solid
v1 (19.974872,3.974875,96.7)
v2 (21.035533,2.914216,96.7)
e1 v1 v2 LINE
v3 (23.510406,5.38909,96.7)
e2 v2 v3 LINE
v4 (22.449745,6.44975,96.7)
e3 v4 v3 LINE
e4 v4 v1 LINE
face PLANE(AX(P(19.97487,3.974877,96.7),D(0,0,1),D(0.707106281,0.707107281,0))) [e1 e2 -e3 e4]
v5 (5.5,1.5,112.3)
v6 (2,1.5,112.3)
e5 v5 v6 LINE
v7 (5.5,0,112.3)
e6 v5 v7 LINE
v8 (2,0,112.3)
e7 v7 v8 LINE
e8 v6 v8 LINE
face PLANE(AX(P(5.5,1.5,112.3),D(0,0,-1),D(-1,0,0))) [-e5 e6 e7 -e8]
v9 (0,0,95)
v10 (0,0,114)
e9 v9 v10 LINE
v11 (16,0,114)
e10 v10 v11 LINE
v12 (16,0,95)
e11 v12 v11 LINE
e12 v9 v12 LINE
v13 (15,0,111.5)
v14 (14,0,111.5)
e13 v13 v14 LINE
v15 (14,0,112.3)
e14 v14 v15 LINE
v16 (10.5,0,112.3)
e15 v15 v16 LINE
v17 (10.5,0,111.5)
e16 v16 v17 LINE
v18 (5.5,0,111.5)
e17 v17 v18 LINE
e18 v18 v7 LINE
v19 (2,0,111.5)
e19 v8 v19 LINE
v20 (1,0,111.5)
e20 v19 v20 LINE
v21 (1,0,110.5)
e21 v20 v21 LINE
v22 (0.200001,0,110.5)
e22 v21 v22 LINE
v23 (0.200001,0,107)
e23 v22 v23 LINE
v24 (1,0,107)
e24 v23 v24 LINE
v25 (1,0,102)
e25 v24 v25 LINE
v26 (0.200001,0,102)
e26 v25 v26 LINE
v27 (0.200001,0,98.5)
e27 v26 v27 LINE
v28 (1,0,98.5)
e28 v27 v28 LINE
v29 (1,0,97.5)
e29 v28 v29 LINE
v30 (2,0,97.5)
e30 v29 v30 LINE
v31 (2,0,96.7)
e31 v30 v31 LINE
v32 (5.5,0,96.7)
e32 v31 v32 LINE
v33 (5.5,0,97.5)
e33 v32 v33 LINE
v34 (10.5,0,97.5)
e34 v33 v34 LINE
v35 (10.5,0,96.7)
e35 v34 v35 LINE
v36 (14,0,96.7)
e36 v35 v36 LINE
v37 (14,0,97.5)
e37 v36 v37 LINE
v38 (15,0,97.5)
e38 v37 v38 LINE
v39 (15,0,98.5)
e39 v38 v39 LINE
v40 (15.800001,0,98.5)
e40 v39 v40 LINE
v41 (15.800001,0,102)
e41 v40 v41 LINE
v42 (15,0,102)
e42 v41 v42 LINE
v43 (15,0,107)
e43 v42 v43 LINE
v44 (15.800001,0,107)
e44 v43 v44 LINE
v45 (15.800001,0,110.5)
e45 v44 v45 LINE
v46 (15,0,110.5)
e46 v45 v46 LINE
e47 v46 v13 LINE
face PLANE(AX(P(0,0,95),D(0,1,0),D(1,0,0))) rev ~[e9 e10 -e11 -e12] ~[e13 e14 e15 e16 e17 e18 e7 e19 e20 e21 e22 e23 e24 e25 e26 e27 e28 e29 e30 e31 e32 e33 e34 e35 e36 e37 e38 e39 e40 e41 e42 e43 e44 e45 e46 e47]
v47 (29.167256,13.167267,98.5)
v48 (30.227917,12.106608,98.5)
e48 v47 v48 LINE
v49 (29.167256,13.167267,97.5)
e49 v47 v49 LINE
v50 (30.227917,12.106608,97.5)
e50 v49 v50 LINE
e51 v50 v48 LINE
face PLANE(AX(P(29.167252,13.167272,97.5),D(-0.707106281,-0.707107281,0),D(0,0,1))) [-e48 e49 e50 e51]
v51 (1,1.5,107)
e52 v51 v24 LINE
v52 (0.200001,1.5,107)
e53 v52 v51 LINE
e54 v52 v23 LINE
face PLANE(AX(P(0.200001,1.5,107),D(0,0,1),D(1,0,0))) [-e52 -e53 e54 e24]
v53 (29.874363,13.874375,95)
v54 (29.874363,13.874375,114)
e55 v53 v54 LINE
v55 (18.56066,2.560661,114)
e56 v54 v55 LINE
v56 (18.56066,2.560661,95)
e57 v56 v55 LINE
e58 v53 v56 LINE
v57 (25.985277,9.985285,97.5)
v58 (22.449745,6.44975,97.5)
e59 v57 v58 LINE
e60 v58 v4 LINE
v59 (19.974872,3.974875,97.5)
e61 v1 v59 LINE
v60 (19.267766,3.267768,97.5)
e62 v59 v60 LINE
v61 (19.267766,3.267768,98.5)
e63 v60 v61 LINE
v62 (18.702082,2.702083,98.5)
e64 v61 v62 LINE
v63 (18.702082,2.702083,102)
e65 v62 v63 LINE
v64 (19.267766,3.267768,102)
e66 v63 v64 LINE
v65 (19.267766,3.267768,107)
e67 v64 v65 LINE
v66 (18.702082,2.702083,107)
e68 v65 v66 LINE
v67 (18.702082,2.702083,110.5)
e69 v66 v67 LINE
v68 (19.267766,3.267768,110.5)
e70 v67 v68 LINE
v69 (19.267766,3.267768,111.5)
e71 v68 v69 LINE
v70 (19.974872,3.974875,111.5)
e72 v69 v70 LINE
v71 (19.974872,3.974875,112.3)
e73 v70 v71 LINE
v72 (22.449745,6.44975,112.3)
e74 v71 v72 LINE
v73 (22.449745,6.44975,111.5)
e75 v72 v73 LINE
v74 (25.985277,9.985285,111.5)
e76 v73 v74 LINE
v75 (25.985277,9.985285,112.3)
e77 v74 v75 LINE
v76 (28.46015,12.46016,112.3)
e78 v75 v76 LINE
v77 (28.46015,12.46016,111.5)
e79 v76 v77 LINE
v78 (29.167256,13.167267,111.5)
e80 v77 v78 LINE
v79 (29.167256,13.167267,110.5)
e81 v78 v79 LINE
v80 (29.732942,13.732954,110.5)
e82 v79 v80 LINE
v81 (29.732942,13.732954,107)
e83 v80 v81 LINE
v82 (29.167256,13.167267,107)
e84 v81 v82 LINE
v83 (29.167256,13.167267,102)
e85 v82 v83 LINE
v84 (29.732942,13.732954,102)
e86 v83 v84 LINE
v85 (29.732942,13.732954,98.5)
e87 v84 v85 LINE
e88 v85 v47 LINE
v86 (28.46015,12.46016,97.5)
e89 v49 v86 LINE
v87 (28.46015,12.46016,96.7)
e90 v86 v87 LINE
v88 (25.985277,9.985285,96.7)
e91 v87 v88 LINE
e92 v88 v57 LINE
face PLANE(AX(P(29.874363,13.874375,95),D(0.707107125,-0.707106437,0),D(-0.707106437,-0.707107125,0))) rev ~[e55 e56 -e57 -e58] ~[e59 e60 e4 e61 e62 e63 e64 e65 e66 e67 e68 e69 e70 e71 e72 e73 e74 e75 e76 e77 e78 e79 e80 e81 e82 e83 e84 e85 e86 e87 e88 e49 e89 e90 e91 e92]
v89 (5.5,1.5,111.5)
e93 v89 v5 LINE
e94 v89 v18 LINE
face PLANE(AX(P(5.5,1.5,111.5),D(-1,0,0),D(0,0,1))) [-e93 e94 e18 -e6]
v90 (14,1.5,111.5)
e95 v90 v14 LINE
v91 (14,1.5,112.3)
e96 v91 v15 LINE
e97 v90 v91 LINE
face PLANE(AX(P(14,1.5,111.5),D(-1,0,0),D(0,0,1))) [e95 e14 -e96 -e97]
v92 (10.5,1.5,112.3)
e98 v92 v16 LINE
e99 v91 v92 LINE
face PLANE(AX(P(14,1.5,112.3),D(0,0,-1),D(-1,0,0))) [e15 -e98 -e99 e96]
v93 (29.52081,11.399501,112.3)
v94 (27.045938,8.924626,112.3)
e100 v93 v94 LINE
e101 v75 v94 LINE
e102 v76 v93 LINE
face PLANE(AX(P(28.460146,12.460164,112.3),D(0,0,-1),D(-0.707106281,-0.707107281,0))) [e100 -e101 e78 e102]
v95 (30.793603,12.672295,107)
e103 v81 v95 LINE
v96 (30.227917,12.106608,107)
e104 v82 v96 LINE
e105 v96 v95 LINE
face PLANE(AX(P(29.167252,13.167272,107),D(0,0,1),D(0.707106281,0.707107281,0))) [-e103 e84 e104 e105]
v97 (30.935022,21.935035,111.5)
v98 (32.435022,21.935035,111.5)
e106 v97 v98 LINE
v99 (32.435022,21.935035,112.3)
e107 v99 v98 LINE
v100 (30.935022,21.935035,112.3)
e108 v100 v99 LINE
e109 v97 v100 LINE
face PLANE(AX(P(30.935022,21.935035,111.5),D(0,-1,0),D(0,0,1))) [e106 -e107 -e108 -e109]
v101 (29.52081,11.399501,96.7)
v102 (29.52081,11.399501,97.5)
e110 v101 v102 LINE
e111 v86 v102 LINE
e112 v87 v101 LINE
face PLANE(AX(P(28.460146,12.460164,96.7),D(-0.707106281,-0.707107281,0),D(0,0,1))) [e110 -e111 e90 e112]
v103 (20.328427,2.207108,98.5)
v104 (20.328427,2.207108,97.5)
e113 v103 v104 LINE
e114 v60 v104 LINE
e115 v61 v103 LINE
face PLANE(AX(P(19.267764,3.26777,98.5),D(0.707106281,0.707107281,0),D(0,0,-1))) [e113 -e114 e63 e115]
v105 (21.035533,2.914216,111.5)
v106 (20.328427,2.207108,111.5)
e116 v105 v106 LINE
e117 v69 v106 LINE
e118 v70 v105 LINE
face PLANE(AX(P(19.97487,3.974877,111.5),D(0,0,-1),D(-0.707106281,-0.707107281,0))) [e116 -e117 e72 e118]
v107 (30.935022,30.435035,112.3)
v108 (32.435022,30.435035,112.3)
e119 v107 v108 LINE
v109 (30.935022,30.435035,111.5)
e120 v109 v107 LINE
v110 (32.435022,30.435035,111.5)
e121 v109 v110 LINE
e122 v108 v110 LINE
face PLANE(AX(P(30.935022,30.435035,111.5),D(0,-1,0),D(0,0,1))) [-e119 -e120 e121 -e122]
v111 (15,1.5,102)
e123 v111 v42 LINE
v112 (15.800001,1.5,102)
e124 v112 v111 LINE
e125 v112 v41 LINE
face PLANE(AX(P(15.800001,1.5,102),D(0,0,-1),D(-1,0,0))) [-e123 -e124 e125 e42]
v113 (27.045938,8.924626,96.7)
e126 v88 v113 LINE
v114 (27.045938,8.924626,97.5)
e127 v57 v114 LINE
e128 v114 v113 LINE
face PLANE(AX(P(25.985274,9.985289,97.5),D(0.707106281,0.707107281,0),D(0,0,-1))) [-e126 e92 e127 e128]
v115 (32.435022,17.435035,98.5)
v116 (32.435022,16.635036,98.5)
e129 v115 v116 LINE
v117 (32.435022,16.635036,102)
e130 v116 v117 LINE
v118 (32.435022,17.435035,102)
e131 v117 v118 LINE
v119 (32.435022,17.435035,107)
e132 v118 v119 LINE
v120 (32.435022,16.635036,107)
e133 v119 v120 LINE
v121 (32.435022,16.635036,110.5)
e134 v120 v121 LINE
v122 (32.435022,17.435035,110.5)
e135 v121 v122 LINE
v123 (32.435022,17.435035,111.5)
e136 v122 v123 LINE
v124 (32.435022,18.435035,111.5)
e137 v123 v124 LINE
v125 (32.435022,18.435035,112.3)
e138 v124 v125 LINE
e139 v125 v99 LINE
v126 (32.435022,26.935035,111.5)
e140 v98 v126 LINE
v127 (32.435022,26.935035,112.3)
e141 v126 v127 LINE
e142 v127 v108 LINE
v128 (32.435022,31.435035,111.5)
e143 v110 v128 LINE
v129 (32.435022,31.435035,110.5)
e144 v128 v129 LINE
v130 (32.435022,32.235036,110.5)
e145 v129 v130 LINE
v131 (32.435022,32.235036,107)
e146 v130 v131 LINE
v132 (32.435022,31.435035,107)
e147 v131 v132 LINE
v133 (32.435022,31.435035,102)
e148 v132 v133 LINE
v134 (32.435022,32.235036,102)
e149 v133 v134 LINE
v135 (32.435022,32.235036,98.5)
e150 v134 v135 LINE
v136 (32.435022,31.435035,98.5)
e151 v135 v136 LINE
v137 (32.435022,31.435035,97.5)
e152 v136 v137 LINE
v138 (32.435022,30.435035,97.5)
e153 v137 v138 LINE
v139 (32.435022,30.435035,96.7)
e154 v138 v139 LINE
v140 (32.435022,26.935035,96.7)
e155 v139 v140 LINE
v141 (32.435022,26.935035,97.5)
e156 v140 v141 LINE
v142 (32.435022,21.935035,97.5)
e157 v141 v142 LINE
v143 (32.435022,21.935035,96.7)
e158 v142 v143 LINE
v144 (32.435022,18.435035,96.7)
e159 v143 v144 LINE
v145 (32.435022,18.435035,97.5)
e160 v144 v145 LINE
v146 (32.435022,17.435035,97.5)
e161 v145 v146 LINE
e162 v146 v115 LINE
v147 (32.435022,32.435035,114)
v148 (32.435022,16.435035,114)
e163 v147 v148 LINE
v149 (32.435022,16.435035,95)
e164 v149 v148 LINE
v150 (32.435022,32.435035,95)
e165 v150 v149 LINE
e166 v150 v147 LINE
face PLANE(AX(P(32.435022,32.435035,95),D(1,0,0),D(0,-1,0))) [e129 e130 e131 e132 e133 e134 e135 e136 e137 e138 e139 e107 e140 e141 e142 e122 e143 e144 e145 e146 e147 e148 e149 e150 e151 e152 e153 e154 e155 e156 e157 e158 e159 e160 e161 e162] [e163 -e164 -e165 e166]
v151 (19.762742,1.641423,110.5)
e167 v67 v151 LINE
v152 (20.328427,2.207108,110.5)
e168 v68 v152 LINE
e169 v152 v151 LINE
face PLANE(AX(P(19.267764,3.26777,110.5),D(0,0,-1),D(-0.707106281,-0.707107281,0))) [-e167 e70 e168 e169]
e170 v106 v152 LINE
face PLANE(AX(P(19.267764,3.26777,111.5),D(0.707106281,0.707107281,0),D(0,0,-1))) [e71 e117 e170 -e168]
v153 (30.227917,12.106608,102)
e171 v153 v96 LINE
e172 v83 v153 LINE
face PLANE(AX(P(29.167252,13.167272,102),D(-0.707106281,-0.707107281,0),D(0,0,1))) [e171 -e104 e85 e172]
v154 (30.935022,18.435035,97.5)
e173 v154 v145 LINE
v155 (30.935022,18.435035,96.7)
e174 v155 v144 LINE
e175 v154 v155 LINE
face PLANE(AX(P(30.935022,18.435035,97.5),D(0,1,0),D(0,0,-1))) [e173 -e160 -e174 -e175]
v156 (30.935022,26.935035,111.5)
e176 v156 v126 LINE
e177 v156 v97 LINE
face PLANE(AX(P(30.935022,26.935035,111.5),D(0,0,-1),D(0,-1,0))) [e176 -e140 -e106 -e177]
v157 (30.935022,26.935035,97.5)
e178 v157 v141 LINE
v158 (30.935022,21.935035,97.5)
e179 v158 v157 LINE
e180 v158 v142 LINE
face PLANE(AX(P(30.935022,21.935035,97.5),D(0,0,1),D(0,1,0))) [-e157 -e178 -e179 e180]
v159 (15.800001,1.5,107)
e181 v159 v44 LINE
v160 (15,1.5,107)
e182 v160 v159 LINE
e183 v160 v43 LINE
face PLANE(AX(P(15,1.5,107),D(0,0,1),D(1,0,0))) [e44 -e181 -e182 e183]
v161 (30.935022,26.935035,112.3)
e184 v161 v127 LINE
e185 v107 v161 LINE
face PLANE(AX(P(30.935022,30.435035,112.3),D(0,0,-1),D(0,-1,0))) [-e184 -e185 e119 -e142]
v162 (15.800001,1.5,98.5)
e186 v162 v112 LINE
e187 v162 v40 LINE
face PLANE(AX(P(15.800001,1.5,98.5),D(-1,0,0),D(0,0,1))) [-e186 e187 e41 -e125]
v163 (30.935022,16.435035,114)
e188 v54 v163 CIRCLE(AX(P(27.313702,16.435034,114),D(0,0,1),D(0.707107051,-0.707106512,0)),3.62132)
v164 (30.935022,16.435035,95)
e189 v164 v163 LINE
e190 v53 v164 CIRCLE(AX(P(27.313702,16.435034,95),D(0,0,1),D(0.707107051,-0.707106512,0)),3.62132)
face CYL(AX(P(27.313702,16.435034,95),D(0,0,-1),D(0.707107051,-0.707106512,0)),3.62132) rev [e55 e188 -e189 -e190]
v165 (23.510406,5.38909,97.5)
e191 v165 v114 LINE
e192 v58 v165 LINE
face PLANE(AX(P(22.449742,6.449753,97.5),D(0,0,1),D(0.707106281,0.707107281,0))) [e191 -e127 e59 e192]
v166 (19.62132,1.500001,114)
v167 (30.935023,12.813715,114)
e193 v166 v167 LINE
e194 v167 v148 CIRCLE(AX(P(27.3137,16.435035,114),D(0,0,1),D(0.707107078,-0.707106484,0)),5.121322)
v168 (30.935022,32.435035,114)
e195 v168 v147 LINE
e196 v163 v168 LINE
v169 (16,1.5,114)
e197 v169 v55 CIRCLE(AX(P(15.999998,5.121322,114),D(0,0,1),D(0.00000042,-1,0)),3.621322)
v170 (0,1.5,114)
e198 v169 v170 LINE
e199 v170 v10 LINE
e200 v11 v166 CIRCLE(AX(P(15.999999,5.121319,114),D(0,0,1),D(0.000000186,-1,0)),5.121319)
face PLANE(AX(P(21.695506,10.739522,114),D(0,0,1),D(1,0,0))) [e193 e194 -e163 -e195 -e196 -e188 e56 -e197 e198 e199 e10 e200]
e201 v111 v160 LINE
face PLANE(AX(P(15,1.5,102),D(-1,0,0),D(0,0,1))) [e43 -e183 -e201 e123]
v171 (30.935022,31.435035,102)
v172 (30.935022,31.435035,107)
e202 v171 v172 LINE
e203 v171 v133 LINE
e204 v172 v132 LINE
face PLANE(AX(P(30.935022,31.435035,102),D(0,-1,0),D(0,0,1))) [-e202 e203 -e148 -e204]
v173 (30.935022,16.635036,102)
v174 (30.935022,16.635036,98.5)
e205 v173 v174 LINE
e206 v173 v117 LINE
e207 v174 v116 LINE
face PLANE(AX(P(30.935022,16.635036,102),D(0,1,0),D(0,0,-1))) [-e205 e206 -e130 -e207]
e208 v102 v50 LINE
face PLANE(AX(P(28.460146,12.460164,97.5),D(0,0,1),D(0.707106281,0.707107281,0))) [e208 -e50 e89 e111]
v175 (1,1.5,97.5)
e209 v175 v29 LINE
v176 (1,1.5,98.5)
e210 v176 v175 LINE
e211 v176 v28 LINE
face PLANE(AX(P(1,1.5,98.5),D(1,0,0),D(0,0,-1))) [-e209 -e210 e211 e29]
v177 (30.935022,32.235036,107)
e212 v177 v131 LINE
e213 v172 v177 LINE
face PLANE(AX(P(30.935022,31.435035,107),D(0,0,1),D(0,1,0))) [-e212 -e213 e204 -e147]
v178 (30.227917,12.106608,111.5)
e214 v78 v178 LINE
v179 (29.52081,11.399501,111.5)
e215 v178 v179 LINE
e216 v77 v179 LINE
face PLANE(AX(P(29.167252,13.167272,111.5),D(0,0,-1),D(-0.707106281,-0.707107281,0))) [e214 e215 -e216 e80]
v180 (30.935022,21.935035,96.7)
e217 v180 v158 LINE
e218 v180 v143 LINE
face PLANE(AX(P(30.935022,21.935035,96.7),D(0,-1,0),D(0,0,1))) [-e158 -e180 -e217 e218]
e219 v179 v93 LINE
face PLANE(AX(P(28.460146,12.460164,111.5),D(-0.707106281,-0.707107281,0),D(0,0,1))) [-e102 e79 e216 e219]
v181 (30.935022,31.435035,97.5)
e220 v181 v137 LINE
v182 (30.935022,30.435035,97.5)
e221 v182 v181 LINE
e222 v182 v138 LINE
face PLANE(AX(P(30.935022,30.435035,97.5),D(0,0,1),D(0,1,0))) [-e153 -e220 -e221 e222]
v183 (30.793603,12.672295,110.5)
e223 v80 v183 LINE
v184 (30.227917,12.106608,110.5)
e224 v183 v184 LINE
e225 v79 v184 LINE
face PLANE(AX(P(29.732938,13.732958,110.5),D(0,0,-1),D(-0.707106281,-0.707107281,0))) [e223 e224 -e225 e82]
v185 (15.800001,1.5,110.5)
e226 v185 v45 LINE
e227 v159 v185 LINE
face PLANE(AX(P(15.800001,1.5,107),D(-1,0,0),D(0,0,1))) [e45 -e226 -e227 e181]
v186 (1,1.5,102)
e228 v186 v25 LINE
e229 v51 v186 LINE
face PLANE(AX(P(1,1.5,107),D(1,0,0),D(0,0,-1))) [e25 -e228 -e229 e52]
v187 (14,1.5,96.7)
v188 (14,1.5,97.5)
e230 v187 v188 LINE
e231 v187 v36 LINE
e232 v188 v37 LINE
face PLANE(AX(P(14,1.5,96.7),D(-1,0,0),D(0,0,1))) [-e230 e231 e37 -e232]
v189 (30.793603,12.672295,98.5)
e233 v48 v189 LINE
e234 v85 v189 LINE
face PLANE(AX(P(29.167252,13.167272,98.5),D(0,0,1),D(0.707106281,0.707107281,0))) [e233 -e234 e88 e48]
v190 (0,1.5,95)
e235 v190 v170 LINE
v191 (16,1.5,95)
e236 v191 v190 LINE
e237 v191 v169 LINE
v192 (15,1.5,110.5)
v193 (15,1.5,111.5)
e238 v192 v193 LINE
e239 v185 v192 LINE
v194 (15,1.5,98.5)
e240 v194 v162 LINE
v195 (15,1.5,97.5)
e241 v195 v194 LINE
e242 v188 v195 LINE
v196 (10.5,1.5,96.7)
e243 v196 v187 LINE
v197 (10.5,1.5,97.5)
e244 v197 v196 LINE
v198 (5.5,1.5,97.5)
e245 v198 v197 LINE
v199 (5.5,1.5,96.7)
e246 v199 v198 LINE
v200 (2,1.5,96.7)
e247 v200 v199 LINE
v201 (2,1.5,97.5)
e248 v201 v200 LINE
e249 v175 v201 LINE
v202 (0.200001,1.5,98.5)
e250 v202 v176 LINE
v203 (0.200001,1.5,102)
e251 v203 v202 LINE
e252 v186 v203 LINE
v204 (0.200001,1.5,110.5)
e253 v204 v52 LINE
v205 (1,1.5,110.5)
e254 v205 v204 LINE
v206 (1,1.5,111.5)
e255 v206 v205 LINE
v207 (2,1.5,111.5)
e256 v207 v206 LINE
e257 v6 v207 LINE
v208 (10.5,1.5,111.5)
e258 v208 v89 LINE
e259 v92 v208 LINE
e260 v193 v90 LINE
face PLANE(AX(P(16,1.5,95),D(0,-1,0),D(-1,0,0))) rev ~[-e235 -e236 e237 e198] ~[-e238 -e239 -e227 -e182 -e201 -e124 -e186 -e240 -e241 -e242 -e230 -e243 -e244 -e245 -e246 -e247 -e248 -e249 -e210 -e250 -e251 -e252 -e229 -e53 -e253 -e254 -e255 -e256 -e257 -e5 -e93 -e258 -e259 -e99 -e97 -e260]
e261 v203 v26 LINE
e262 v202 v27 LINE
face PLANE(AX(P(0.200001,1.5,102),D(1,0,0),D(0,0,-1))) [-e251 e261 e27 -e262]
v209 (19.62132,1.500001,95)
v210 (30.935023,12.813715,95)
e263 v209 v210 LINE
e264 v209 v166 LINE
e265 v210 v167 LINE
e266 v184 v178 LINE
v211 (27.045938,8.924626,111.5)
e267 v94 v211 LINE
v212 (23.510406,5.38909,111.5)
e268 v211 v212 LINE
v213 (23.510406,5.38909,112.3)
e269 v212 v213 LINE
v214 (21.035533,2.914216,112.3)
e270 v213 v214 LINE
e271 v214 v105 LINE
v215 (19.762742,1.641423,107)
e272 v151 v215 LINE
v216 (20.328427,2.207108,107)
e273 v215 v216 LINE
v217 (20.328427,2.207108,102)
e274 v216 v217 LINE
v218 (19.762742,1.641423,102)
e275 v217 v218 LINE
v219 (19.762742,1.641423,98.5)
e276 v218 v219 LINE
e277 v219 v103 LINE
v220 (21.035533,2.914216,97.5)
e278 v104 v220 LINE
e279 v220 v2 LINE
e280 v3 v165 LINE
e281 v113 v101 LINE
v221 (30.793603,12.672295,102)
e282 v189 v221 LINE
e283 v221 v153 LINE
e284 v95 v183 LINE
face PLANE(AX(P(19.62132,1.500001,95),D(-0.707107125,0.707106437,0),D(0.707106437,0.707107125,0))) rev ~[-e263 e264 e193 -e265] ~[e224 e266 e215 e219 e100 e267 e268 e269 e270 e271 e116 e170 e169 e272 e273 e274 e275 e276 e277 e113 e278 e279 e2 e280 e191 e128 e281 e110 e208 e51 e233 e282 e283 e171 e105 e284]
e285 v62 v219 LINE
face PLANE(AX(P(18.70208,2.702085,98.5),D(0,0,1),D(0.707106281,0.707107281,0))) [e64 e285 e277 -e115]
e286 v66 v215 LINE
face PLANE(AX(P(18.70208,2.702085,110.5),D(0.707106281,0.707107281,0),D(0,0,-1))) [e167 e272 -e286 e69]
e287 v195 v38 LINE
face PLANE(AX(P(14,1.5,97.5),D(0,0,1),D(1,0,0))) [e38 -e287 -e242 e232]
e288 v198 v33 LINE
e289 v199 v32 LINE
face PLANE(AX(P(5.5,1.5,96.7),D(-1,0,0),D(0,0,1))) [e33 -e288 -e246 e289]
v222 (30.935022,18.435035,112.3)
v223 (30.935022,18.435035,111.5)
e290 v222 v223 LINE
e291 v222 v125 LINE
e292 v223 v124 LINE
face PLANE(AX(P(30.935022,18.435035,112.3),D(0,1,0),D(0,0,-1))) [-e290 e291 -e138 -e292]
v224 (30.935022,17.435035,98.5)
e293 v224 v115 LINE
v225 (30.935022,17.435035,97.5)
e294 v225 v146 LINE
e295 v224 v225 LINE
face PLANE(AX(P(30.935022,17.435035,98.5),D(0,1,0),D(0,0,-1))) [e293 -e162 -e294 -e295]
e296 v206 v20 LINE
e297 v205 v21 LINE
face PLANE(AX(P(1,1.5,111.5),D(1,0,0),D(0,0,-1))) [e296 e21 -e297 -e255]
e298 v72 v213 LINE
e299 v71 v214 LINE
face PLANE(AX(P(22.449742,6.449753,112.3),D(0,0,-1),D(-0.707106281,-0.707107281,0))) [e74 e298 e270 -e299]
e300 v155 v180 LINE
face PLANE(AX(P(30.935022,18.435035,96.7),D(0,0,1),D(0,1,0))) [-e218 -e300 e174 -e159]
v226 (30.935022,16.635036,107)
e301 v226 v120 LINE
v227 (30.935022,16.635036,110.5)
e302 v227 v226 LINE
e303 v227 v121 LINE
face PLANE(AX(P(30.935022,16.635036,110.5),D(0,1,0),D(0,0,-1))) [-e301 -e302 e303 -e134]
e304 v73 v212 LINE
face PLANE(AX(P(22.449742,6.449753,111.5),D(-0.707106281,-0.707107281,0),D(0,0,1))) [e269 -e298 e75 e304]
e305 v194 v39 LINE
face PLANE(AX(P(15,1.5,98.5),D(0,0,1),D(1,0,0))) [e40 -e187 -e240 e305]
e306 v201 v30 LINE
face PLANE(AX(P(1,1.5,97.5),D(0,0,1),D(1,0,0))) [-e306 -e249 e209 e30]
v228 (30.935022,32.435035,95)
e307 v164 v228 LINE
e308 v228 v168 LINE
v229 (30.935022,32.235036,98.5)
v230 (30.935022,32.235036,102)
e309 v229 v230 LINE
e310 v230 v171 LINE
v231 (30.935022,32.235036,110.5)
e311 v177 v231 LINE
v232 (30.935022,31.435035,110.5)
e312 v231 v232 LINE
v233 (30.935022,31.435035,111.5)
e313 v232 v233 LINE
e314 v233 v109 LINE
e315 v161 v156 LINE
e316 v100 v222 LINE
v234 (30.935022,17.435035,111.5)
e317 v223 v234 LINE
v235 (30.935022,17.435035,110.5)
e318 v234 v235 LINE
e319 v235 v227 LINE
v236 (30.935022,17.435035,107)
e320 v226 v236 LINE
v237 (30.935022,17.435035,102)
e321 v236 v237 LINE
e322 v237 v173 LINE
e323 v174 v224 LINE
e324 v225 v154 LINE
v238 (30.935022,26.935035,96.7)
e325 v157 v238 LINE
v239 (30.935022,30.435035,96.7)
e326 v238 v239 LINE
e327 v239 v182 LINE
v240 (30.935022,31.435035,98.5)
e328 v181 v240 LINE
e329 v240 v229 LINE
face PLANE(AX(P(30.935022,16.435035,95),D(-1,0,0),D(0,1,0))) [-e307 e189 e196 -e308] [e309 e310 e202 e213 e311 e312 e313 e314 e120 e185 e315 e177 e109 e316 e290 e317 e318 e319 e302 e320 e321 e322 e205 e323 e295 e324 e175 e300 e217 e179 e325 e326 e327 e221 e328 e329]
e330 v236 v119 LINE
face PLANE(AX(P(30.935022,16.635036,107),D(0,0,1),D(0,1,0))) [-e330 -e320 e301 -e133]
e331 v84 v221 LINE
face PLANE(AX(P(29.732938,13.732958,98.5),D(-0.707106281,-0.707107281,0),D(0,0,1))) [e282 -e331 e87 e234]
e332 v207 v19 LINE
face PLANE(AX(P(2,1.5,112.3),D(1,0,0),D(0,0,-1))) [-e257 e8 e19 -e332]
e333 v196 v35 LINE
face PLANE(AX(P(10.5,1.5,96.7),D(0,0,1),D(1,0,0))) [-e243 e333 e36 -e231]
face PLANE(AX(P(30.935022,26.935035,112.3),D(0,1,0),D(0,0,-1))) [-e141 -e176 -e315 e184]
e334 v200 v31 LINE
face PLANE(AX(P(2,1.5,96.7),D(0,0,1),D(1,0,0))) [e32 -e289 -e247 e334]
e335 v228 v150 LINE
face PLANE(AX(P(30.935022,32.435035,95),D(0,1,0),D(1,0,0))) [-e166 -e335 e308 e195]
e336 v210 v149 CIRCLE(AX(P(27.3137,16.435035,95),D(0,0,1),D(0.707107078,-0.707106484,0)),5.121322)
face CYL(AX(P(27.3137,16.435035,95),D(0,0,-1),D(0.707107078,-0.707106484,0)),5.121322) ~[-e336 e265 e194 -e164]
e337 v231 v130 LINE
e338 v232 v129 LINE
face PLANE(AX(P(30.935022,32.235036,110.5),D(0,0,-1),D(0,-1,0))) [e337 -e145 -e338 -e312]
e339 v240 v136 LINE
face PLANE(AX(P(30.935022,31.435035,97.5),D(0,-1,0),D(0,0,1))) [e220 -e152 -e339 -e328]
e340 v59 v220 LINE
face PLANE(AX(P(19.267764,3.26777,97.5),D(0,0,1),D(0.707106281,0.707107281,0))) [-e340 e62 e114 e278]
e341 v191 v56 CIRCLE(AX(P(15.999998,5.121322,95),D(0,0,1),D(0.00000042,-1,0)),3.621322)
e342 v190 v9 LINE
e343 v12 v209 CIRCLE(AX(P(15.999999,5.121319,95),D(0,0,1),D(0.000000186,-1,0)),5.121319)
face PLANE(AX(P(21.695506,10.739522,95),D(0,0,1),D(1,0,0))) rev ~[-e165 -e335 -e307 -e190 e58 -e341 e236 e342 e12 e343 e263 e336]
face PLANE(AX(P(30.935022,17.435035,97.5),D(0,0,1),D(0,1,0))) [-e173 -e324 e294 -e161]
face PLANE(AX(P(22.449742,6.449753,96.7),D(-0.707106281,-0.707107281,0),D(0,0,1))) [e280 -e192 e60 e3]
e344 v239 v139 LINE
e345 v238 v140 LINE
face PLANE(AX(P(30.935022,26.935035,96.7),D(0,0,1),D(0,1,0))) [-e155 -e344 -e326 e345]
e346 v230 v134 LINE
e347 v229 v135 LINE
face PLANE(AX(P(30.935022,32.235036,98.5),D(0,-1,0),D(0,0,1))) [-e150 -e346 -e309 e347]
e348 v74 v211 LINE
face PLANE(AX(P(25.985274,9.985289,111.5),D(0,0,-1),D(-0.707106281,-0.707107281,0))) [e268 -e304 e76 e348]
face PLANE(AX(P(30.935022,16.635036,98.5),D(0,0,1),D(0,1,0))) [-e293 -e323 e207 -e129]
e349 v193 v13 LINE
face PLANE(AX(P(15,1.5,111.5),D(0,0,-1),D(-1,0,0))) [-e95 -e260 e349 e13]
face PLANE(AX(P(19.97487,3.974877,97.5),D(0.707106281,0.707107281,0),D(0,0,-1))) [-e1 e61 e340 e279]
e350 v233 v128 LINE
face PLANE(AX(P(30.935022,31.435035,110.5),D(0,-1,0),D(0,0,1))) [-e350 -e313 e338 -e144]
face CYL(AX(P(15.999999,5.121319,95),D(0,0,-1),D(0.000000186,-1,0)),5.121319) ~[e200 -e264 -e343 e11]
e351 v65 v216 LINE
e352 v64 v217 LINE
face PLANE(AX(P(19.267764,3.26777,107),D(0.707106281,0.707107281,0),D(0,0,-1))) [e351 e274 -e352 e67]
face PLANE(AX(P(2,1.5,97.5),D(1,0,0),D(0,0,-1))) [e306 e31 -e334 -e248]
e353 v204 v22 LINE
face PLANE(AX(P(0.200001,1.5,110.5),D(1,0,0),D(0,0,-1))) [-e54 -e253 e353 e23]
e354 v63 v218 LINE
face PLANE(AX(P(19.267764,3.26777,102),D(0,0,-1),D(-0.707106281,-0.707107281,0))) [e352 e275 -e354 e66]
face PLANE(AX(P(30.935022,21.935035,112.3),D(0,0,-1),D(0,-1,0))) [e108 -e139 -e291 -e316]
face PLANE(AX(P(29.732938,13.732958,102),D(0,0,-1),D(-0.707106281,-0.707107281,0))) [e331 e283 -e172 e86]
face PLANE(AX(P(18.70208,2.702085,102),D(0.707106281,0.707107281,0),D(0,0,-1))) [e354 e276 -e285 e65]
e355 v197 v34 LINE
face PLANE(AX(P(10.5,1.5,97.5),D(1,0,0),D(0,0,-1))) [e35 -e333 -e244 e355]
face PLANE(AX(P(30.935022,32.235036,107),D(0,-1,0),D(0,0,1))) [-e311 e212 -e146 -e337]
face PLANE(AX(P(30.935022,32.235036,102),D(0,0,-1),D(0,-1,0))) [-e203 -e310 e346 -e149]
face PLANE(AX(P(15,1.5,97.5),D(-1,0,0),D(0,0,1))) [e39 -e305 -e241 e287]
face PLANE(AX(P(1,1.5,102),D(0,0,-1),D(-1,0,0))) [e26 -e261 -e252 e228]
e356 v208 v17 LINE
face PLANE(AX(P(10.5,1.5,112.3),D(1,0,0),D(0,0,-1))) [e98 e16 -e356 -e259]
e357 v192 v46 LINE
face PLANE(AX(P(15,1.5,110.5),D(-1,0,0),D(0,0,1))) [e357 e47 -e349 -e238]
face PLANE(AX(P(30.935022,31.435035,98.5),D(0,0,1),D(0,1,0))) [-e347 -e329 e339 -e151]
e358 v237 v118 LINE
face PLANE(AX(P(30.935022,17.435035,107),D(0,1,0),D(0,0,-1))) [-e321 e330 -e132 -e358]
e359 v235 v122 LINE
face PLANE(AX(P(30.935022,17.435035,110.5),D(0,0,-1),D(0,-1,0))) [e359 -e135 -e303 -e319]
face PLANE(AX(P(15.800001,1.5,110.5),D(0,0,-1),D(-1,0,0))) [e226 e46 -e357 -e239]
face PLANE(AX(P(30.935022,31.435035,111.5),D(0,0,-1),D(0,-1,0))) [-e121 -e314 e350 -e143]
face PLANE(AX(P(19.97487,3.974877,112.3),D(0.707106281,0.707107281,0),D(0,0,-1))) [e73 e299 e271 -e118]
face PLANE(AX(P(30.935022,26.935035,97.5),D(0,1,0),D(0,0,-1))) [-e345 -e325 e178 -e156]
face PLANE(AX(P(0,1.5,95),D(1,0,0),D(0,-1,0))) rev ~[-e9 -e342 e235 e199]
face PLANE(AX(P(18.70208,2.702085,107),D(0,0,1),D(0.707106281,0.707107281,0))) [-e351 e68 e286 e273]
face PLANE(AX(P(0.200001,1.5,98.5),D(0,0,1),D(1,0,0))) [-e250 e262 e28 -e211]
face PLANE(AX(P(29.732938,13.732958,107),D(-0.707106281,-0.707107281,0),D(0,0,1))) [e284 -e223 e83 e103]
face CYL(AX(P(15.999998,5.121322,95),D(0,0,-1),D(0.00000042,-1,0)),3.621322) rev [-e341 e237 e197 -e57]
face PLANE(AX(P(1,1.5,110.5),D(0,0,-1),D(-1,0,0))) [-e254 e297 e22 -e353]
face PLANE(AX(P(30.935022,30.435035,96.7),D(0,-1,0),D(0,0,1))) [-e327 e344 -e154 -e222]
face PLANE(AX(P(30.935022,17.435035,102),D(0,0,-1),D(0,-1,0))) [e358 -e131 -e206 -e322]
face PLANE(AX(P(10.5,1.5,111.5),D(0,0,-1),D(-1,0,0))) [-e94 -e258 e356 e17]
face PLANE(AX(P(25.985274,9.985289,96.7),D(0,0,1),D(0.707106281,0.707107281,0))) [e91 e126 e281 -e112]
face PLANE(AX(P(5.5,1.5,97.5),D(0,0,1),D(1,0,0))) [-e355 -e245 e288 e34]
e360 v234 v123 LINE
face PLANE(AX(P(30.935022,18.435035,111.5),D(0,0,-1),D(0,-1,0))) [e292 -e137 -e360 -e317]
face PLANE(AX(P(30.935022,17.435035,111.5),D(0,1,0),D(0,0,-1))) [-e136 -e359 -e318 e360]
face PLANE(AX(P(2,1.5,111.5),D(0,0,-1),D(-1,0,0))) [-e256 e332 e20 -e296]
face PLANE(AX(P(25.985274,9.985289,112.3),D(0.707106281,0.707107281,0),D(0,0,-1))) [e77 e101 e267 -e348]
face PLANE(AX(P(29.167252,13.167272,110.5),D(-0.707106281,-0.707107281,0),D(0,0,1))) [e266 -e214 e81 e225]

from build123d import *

# Parameters (mm, degrees)
PAD_DEPTH       = 19
POCKET_DEPTH    = 11.62232
POCKET002_DEPTH = 1.501
POCKET003_DEPTH = 1.501


with BuildPart() as part:
    # Sketch → Pad (new body)
    with BuildSketch(Plane.XY):
        with BuildLine():
            Line((0, 0), (16, 0))
            ThreePointArc((16, 0), (17.959845, 0.389838), (19.62132, 1.500001))
            Line((19.62132, 1.500001), (30.935023, 12.813715))
            ThreePointArc((30.935023, 12.813715), (32.045185, 14.475191), (32.435022, 16.435035))
            Line((32.435022, 32.435035), (32.435022, 16.435035))
            Line((30.935022, 32.435035), (32.435022, 32.435035))
            Line((30.935022, 16.435035), (30.935022, 32.435035))
            ThreePointArc((29.874363, 13.874375), (30.659366, 15.049216), (30.935022, 16.435035))
            Line((29.874363, 13.874375), (18.56066, 2.560661))
            ThreePointArc((16, 1.5), (17.385819, 1.775657), (18.56066, 2.560661))
            Line((16, 1.5), (0, 1.5))
            Line((0, 1.5), (0, 0))
        make_face()
    extrude(amount=PAD_DEPTH)

    # Sketch004 → Pocket (cut, through all)
    with BuildSketch(Plane(origin=(8.000009, -8.000001, 0), x_dir=(-0.707106, -0.707107, 0), z_dir=(-0.707107, 0.707106, 0))):
        Polygon((-28.935023, 17.3), (-25.435023, 17.3), (-25.435023, 16.5), (-20.435023, 16.5), (-20.435023, 17.3), (-16.935023, 17.3), (-16.935023, 16.5), (-15.935023, 16.5), (-15.935023, 15.5), (-15.135024, 15.5), (-15.135024, 12), (-15.935023, 12), (-15.935023, 7), (-15.135024, 7), (-15.135024, 3.5), (-15.935023, 3.5), (-15.935023, 2.5), (-16.935023, 2.5), (-16.935023, 1.7), (-20.435023, 1.7), (-20.435023, 2.5), (-25.435023, 2.5), (-25.435023, 1.7), (-28.935023, 1.7), (-28.935023, 2.5), (-29.935023, 2.5), (-29.935023, 3.5), (-30.735024, 3.5), (-30.735024, 7), (-29.935023, 7), (-29.935023, 12), (-30.735024, 12), (-30.735024, 15.5), (-29.935023, 15.5), (-29.935023, 16.5), (-28.935023, 16.5), align=None)
    extrude(amount=-POCKET_DEPTH, mode=Mode.SUBTRACT)

    # Sketch004001 → Pocket002 (cut, through all)
    with BuildSketch(Plane(origin=(30.935022, 0, 0), x_dir=(0, -1, 0), z_dir=(-1, 0, 0))):
        Polygon((-30.435035, 17.3), (-26.935035, 17.3), (-26.935035, 16.5), (-21.935035, 16.5), (-21.935035, 17.3), (-18.435035, 17.3), (-18.435035, 16.5), (-17.435035, 16.5), (-17.435035, 15.5), (-16.635036, 15.5), (-16.635036, 12), (-17.435035, 12), (-17.435035, 7), (-16.635036, 7), (-16.635036, 3.5), (-17.435035, 3.5), (-17.435035, 2.5), (-18.435035, 2.5), (-18.435035, 1.7), (-21.935035, 1.7), (-21.935035, 2.5), (-26.935035, 2.5), (-26.935035, 1.7), (-30.435035, 1.7), (-30.435035, 2.5), (-31.435035, 2.5), (-31.435035, 3.5), (-32.235036, 3.5), (-32.235036, 7), (-31.435035, 7), (-31.435035, 12), (-32.235036, 12), (-32.235036, 15.5), (-31.435035, 15.5), (-31.435035, 16.5), (-30.435035, 16.5), align=None)
    extrude(amount=-POCKET002_DEPTH, mode=Mode.SUBTRACT)

    # Sketch004001001 → Pocket003 (cut, through all)
    with BuildSketch(Plane(origin=(0, 1.5, 0), x_dir=(-1, 0, 0), z_dir=(0, 1, 0))):
        Polygon((-14, 17.3), (-10.5, 17.3), (-10.5, 16.5), (-5.5, 16.5), (-5.5, 17.3), (-2, 17.3), (-2, 16.5), (-1, 16.5), (-1, 15.5), (-0.200001, 15.5), (-0.200001, 12), (-1, 12), (-1, 7), (-0.200001, 7), (-0.200001, 3.5), (-1, 3.5), (-1, 2.5), (-2, 2.5), (-2, 1.7), (-5.5, 1.7), (-5.5, 2.5), (-10.5, 2.5), (-10.5, 1.7), (-14, 1.7), (-14, 2.5), (-15, 2.5), (-15, 3.5), (-15.800001, 3.5), (-15.800001, 7), (-15, 7), (-15, 12), (-15.800001, 12), (-15.800001, 15.5), (-15, 15.5), (-15, 16.5), (-14, 16.5), align=None)
    extrude(amount=-POCKET003_DEPTH, mode=Mode.SUBTRACT)


with BuildPart() as part_1:
    # Clone placement: moved
    add(part.part.moved(Location((0, 2.38, 19))))


with BuildPart() as part_2:
    # Clone001 placement: moved
    add(part_1.part.moved(Location((0, 4.75, 19))))


with BuildPart() as part_3:
    # Clone002 placement: moved
    add(part_2.part.moved(Location((0, -2.38, 19))))


with BuildPart() as part_4:
    # Clone003 placement: moved
    add(part_3.part.moved(Location((0, -4.75, 19))))


with BuildPart() as part_5:
    # Clone004 placement: moved
    add(part_4.part.moved(Location((0, 0, 19))))


solid = part_5.part
